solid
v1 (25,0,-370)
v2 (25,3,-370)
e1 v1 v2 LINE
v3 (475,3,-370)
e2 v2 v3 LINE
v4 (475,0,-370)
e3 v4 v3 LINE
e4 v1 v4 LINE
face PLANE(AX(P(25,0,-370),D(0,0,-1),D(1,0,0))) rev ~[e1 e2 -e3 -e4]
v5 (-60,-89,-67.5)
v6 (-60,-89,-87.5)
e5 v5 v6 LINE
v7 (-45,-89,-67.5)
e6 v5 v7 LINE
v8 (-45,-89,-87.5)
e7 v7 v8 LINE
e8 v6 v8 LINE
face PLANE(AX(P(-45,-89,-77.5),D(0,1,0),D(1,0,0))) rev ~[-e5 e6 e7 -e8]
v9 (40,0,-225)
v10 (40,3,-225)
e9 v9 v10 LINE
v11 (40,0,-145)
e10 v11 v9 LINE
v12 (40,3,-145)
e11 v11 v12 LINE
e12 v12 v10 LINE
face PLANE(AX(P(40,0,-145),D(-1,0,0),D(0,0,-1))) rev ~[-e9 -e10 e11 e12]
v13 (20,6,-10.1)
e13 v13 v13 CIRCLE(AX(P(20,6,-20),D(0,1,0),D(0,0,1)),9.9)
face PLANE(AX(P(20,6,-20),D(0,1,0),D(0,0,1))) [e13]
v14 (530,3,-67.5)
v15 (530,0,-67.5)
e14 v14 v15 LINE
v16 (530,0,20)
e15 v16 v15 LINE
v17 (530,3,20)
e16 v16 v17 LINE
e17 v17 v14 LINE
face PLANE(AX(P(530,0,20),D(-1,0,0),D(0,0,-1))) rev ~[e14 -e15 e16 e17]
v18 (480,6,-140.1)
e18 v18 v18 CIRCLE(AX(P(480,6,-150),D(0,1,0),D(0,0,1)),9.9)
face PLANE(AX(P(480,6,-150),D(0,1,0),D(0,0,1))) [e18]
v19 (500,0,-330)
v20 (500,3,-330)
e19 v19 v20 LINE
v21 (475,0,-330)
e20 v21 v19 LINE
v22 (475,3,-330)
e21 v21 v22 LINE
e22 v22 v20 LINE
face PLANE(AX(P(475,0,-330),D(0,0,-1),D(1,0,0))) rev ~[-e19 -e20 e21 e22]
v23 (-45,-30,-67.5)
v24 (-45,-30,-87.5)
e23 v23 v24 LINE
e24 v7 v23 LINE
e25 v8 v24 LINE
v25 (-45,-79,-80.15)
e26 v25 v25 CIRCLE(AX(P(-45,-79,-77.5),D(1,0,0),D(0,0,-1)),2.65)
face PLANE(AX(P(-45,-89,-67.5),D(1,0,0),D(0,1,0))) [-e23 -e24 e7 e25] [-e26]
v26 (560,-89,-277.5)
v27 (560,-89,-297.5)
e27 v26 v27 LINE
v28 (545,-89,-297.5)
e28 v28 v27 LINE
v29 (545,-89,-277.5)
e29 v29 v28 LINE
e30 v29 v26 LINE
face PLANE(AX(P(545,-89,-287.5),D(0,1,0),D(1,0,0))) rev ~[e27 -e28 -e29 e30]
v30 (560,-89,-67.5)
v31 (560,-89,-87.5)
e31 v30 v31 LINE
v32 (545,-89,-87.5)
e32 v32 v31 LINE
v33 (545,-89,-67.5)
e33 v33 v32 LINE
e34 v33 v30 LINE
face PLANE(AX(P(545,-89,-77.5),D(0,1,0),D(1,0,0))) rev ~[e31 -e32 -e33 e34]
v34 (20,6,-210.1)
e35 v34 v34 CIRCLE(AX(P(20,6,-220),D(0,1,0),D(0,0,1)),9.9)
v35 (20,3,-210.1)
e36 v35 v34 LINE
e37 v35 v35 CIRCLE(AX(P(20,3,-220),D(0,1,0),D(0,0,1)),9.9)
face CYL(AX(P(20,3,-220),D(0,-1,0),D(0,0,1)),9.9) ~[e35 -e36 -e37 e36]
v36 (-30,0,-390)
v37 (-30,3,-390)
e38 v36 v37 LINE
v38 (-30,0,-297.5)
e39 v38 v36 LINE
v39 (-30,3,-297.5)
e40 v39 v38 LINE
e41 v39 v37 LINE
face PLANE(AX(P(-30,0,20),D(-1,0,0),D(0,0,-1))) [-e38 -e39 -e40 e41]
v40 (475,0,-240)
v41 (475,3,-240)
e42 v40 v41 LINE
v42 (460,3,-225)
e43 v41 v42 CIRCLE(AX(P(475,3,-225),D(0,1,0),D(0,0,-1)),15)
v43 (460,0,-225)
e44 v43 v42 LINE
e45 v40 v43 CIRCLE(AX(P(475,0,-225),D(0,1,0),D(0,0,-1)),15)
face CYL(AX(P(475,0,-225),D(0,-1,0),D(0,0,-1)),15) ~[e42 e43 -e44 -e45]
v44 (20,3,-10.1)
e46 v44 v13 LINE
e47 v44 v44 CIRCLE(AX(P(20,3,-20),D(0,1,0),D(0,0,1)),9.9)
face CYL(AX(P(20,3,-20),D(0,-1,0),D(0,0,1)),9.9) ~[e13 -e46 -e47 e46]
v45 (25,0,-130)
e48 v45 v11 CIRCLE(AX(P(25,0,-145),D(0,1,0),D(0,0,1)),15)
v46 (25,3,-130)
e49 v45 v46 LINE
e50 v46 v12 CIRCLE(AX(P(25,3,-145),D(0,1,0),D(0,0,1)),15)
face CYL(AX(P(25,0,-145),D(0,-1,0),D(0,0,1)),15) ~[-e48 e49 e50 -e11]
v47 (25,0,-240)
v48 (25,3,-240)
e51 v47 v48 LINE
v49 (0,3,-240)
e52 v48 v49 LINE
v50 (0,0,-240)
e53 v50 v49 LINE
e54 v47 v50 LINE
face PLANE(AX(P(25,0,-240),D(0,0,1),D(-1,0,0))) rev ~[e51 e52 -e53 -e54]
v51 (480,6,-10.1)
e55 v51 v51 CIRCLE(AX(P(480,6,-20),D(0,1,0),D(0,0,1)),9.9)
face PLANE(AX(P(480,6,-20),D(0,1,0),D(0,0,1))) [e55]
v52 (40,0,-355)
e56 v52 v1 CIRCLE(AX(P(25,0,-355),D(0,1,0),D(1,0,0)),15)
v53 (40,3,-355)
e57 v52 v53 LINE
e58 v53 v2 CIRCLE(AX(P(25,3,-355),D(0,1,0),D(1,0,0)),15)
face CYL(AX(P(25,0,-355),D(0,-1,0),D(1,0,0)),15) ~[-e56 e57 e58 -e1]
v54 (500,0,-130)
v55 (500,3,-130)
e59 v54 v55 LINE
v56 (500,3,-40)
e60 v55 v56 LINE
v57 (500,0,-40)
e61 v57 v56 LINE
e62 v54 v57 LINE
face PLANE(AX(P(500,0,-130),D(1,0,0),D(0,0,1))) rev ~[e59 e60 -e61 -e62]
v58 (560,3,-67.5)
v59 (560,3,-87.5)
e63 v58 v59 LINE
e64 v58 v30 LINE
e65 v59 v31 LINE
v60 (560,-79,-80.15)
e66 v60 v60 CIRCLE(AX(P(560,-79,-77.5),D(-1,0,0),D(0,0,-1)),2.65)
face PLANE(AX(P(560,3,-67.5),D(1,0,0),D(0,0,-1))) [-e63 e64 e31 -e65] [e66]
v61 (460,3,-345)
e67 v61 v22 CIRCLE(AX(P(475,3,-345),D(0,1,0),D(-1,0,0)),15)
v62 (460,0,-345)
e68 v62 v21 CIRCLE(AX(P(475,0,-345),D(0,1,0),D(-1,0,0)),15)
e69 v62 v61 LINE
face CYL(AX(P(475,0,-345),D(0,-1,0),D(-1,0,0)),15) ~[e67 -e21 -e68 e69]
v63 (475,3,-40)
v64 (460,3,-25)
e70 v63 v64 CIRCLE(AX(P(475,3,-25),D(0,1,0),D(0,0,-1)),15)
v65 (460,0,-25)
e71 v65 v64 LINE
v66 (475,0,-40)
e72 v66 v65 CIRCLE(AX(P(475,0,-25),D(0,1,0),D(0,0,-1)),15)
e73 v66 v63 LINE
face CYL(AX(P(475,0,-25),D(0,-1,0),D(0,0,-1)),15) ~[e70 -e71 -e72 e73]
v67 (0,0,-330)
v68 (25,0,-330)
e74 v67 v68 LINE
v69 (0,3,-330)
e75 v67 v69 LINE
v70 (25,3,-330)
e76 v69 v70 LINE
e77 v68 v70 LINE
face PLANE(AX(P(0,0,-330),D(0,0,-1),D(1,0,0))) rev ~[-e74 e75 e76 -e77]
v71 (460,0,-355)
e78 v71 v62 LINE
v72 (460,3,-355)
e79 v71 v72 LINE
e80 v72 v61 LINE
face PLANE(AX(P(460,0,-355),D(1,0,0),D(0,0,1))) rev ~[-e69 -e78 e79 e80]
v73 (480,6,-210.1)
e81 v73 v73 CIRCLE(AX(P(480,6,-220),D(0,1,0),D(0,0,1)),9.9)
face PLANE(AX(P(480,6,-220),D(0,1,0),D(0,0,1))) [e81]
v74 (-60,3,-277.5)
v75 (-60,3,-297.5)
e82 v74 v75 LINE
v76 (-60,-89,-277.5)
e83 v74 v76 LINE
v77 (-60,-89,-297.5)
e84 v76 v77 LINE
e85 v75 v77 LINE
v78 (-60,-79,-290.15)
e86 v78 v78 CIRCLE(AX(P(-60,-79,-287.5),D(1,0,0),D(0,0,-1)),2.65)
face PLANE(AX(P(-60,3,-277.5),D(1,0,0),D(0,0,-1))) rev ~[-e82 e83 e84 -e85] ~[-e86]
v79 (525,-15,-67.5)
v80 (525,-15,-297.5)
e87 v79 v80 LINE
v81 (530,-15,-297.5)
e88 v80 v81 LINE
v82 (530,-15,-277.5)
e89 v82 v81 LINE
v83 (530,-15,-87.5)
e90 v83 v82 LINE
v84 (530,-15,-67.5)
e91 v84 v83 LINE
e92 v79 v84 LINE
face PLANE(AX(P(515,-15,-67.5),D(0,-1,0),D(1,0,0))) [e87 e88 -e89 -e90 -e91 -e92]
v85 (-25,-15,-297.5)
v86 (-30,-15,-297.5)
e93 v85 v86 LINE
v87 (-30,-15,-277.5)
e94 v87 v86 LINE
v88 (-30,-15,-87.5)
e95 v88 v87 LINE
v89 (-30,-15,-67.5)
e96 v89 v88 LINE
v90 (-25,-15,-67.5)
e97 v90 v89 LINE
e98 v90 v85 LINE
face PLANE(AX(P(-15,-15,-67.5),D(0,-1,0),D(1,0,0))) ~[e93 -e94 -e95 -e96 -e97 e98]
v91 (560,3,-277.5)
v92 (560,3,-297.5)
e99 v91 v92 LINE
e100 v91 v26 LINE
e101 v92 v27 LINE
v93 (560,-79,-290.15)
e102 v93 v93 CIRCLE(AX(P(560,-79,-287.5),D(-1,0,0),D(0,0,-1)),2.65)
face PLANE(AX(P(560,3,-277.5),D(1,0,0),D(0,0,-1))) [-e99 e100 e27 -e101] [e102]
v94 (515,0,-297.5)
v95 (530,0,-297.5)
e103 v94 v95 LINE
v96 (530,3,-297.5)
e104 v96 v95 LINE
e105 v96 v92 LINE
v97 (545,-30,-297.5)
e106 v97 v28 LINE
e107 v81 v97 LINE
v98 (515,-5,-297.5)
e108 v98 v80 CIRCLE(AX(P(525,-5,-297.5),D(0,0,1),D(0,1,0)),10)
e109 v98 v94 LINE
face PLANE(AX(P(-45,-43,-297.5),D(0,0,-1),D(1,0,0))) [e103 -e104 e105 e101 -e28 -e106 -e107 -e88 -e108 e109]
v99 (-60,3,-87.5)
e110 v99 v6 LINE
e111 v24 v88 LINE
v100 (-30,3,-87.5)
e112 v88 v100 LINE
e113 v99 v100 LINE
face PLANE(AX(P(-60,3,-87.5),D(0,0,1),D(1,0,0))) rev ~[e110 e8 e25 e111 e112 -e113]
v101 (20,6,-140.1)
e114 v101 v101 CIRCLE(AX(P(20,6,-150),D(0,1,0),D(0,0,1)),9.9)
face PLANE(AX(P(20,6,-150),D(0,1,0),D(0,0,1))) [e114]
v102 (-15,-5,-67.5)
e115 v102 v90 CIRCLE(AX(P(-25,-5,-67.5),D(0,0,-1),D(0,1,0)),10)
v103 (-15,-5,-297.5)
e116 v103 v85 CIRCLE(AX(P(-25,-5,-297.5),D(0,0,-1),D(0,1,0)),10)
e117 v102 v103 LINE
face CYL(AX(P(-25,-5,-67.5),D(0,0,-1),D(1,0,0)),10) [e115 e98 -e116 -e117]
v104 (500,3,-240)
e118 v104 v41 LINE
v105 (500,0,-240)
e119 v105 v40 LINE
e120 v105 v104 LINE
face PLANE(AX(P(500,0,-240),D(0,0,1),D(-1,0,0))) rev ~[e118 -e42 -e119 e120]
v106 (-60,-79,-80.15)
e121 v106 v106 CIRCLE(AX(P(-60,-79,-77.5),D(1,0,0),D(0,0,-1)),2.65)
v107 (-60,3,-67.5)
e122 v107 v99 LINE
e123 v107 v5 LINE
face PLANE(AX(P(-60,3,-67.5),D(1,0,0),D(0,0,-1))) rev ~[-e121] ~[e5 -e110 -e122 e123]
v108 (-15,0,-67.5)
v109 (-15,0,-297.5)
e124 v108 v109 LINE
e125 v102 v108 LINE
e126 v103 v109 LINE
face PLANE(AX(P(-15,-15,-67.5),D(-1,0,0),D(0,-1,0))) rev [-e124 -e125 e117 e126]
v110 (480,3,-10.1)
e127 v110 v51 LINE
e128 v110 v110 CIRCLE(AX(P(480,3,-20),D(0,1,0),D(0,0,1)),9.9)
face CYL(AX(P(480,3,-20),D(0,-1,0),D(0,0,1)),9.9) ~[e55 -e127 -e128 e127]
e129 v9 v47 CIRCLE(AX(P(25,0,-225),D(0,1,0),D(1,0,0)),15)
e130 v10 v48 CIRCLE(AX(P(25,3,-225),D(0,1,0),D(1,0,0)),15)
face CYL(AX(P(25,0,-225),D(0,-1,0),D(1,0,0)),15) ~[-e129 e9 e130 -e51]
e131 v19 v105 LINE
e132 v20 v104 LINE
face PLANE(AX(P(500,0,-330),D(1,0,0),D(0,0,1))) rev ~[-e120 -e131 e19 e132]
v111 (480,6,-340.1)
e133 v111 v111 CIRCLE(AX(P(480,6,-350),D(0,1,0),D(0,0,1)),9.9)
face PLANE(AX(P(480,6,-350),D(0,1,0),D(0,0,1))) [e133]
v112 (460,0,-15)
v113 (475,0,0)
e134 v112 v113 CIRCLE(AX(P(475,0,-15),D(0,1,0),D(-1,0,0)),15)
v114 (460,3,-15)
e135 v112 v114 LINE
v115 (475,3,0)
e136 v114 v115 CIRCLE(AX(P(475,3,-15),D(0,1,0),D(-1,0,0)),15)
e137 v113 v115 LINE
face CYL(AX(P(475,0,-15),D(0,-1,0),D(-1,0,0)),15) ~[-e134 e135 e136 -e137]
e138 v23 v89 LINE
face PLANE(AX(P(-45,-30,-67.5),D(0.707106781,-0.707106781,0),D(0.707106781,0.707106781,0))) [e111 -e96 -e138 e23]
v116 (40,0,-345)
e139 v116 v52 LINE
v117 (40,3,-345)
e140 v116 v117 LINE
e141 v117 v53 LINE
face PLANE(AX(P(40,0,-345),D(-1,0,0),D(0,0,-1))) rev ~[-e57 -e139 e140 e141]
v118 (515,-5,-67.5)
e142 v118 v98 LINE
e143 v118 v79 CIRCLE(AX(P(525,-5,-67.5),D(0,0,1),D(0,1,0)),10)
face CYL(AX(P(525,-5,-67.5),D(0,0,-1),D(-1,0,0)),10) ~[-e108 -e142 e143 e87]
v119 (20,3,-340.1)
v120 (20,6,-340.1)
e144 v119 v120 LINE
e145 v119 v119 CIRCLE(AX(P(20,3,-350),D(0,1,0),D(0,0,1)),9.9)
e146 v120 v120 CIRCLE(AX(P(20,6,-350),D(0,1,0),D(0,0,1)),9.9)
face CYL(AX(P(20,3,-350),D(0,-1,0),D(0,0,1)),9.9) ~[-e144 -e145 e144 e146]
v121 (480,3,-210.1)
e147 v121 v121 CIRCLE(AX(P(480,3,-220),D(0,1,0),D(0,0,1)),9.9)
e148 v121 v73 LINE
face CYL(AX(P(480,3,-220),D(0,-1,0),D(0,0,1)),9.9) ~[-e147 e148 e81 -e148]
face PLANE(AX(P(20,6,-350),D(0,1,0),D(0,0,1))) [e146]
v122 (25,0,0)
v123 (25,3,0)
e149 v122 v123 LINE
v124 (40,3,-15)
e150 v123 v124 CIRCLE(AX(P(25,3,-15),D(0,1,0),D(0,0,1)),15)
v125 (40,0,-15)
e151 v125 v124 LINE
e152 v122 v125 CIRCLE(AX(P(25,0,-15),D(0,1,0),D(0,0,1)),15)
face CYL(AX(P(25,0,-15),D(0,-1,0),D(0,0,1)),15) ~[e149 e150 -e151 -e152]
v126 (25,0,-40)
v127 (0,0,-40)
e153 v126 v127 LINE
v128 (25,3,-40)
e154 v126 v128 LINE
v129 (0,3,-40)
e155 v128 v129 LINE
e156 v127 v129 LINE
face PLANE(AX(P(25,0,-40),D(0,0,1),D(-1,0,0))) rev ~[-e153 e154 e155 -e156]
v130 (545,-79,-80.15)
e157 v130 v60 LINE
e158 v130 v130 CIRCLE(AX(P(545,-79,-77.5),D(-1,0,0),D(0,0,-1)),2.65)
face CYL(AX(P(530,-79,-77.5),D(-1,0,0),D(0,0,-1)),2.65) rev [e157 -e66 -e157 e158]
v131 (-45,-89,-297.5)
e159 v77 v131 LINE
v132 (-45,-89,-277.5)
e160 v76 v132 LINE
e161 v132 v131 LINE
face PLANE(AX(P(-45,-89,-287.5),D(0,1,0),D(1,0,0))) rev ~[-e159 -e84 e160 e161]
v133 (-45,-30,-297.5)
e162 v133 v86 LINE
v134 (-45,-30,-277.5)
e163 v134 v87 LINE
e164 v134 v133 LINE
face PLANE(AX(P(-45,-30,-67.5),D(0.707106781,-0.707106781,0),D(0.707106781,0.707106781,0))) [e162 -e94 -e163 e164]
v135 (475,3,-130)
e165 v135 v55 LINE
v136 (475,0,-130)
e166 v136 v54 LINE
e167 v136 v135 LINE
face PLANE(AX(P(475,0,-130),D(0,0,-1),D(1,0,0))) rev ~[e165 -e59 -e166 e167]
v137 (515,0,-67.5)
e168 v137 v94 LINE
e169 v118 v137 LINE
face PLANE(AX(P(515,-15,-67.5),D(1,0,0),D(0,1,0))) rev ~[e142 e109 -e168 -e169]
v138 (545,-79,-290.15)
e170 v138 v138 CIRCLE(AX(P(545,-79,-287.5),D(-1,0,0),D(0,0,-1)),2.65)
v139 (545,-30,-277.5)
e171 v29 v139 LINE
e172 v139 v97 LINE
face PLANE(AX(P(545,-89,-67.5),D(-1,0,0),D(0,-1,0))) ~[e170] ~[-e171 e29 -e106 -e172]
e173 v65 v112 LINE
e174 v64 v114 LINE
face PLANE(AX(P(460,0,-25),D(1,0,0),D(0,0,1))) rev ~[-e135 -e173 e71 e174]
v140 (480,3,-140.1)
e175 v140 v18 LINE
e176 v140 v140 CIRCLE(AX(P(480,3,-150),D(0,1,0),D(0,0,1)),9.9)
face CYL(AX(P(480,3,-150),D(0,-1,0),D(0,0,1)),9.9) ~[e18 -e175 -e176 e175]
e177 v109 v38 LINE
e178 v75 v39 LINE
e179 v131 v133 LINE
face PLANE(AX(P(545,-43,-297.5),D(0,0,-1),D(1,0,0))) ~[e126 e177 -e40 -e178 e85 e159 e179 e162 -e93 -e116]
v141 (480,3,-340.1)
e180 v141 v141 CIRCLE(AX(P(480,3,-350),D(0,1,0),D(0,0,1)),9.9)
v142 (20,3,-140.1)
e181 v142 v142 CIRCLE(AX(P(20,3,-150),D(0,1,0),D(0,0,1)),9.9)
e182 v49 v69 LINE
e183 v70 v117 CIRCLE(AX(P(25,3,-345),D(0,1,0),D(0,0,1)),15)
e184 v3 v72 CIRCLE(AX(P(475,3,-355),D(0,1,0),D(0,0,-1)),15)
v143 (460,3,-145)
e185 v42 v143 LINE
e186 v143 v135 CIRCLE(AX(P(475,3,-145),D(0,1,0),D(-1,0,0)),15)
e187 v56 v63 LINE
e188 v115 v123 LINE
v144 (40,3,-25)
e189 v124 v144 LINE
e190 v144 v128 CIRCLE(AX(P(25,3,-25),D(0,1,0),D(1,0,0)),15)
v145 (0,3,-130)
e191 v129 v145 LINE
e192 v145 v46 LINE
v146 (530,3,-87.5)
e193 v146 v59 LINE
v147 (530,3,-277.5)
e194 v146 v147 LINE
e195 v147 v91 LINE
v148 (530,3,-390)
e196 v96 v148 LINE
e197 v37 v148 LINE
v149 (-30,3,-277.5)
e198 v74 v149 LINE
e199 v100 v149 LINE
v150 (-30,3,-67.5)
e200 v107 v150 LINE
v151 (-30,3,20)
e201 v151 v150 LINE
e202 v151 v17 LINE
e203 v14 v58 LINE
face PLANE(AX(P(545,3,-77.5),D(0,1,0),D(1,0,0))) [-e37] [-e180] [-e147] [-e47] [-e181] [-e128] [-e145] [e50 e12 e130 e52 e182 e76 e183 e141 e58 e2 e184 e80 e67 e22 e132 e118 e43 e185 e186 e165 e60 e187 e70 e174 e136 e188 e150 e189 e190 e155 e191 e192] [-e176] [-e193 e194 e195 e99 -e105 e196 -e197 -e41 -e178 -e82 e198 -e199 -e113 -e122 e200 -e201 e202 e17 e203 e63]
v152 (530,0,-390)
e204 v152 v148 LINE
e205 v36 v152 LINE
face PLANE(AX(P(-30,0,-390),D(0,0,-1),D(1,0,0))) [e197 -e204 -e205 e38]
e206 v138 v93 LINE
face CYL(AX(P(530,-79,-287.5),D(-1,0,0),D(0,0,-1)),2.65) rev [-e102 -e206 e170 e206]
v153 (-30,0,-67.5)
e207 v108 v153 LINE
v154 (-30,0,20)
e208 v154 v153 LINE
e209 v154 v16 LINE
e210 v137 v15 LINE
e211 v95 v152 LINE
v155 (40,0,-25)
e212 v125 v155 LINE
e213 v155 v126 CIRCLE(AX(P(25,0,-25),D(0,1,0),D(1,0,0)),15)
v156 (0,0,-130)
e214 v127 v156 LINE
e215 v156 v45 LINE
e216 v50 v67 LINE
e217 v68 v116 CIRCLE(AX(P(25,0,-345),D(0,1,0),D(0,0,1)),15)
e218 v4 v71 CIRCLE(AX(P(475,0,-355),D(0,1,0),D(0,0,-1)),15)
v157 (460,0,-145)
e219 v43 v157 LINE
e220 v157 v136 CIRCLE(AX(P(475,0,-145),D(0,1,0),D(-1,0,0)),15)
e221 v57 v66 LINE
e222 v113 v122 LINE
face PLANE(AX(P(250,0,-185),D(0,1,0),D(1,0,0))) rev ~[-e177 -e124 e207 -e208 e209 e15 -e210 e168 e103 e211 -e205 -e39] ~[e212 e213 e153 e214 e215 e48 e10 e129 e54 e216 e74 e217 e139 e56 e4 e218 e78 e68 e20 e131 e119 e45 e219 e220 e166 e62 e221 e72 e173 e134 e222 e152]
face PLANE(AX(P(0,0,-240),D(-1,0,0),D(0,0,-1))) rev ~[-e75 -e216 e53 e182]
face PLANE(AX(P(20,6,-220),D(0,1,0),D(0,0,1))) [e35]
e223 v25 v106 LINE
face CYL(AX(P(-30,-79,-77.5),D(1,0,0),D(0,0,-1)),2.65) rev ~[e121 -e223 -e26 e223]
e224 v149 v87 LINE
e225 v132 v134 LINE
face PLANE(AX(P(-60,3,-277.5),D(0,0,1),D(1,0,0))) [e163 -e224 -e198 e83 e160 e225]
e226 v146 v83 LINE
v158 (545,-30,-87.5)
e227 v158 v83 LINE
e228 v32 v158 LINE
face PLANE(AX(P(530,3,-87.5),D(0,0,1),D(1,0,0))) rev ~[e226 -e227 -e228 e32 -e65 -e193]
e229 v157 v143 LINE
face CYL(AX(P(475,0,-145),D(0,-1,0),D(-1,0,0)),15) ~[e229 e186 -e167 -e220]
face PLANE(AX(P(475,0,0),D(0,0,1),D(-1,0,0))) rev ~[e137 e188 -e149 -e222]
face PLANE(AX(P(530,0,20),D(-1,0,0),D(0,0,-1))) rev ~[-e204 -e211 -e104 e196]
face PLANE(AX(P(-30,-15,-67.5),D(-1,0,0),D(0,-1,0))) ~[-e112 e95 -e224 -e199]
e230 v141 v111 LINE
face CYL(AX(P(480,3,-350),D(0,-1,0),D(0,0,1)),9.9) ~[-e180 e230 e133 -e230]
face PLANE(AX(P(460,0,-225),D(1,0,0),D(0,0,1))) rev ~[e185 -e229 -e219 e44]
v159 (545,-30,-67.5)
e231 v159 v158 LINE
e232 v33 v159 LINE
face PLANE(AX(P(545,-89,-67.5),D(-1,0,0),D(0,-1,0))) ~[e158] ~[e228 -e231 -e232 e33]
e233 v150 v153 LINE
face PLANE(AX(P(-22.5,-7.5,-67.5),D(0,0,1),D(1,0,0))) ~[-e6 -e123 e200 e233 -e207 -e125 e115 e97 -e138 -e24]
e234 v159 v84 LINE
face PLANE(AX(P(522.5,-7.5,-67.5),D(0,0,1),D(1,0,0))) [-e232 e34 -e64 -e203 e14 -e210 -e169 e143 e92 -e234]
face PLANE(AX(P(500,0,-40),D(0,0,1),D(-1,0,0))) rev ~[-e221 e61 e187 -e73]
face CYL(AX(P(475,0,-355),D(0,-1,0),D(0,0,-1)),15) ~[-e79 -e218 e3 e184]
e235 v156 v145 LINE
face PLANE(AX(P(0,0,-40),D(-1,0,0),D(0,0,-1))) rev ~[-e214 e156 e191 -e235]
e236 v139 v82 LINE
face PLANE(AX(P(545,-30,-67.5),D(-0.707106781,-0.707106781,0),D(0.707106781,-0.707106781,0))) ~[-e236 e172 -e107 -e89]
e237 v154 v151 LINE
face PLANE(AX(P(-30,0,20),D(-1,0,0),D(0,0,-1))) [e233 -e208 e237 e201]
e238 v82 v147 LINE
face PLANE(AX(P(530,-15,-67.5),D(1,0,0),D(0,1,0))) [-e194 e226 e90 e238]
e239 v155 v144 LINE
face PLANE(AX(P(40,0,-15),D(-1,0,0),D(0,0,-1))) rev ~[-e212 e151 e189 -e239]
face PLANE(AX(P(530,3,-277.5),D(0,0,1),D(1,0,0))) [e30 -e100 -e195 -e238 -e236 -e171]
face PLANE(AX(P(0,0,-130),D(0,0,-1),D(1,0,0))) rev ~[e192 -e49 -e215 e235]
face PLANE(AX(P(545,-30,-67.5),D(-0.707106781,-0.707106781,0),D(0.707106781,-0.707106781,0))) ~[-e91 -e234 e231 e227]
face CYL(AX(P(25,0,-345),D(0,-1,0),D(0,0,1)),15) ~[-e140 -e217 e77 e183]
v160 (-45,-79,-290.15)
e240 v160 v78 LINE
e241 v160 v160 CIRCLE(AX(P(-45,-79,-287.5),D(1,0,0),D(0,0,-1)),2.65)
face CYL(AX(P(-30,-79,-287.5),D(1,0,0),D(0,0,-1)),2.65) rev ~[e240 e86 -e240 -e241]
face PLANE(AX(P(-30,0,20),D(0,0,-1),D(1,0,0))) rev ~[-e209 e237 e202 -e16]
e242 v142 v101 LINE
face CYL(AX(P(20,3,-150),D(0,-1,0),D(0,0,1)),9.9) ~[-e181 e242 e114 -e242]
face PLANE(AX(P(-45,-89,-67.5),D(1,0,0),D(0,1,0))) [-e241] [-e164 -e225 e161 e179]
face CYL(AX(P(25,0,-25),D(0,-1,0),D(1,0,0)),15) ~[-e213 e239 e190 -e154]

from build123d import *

# Parameters (mm, degrees)
SKETCH1_W            = 560
SKETCH1_H            = 410
BOSS_EXTRUDE1_DEPTH  = 3
SKETCH2_R            = 9.9
BOSS_EXTRUDE2_DEPTH  = 3
SKETCH3_W            = 30
SKETCH3_H            = 20
BOSS_EXTRUDE3_DEPTH  = 92
LPATTERN1_COUNT      = 2
LPATTERN1_PITCH      = 210
BOSS_EXTRUDE4_REACH  = 654.324
SKETCH4_W            = 15
SKETCH4_H            = 15
FILLET1_R            = 10
FILLET1_OF_MIRROR1_R = 10
SKETCH5_R            = 2.65
CUT_EXTRUDE1_DEPTH   = 92
CUT_EXTRUDE2_DEPTH   = 653.32449747


with BuildPart() as part:
    # Sketch1 → Boss-Extrude1 (new body)
    with BuildSketch(Plane(origin=(0, 0, 0), x_dir=(1, 0, 0), z_dir=(0, 1, 0))):
        with Locations((250, 185)):
            Rectangle(SKETCH1_W, SKETCH1_H)
        with BuildLine():
            Line((500, 130), (500, 40))
            Line((500, 40), (475, 40))
            ThreePointArc((475, 40), (464.393398282, 35.606601718), (460, 25))
            Line((460, 25), (460, 15))
            ThreePointArc((460, 15), (464.393398282, 4.393398282), (475, 0))
            Line((475, 0), (25, 0))
            ThreePointArc((25, 0), (35.606601718, 4.393398282), (40, 15))
            Line((40, 15), (40, 25))
            ThreePointArc((40, 25), (35.606601718, 35.606601718), (25, 40))
            Line((25, 40), (0, 40))
            Line((0, 40), (0, 130))
            Line((0, 130), (25, 130))
            ThreePointArc((25, 130), (35.606601718, 134.393398282), (40, 145))
            Line((40, 145), (40, 225))
            ThreePointArc((40, 225), (35.606601718, 235.606601718), (25, 240))
            Line((25, 240), (0, 240))
            Line((0, 240), (0, 330))
            Line((0, 330), (25, 330))
            ThreePointArc((25, 330), (35.606601718, 334.393398282), (40, 345))
            Line((40, 345), (40, 355))
            ThreePointArc((40, 355), (35.606601718, 365.606601718), (25, 370))
            Line((25, 370), (475, 370))
            ThreePointArc((475, 370), (464.393398282, 365.606601718), (460, 355))
            Line((460, 355), (460, 345))
            ThreePointArc((460, 345), (464.393398282, 334.393398282), (475, 330))
            Line((475, 330), (500, 330))
            Line((500, 330), (500, 240))
            Line((500, 240), (475, 240))
            ThreePointArc((475, 240), (464.393398282, 235.606601718), (460, 225))
            Line((460, 225), (460, 145))
            ThreePointArc((460, 145), (464.393398282, 134.393398282), (475, 130))
            Line((475, 130), (500, 130))
        make_face(mode=Mode.SUBTRACT)
    extrude(amount=BOSS_EXTRUDE1_DEPTH)

    # Sketch2 → Boss-Extrude2 (add)
    with BuildSketch(Plane(origin=(0, 3, 0), x_dir=(1, 0, 0), z_dir=(0, 1, 0))):
        with Locations(Location((20, 150, 0), (0, 0, 270))):
            Circle(SKETCH2_R)
        with Locations(Location((20, 220, 0), (0, 0, 270))):
            Circle(SKETCH2_R)
        with Locations(Location((20, 350, 0), (0, 0, 270))):
            Circle(SKETCH2_R)
        with Locations(Location((20, 20, 0), (0, 0, 270))):
            Circle(SKETCH2_R)
        with Locations(Location((480, 150, 0), (0, 0, 270))):
            Circle(SKETCH2_R)
        with Locations(Location((480, 220, 0), (0, 0, 270))):
            Circle(SKETCH2_R)
        with Locations(Location((480, 350, 0), (0, 0, 270))):
            Circle(SKETCH2_R)
        with Locations(Location((480, 20, 0), (0, 0, 270))):
            Circle(SKETCH2_R)
    extrude(amount=BOSS_EXTRUDE2_DEPTH)

    # Sketch3 → Boss-Extrude3 (add)
    with BuildSketch(Plane(origin=(0, 3, 0), x_dir=(1, 0, 0), z_dir=(0, 1, 0))):
        with Locations((545, 287.5)):
            Rectangle(SKETCH3_W, SKETCH3_H)
        with Locations((-45, 287.5)):
            Rectangle(SKETCH3_W, SKETCH3_H)
    boss_extrude3 = extrude(amount=-BOSS_EXTRUDE3_DEPTH)

    # LPattern1: Boss-Extrude3 ×2
    with Locations(*[(0, 0, i * LPATTERN1_PITCH) for i in range(1, LPATTERN1_COUNT)]):
        add(boss_extrude3)

    # Boss-Extrude4: up to this face of the body (flat: up to its plane)
    boss_extrude4_end = Plane(part.part.faces().sort_by_distance((-45, -43, -297.5))[0])
    # Sketch4 → Boss-Extrude4 (add, up to the picked face)
    with BuildSketch(Plane.XY.offset(-67.5), mode=Mode.PRIVATE) as boss_extrude4_sk1:
        with Locations((522.5, -7.5)):
            Rectangle(SKETCH4_W, SKETCH4_H)
    boss_extrude4_tool1 = split(extrude(boss_extrude4_sk1.sketch, amount=-BOSS_EXTRUDE4_REACH, mode=Mode.PRIVATE), bisect_by=boss_extrude4_end, keep=Keep.BOTH, mode=Mode.PRIVATE)
    boss_extrude4 = boss_extrude4_tool1.solids().sort_by(Axis((522.5, -7.5, -67.5), (0, 0, -1)))[0]
    add(boss_extrude4)

    # Fillet1
    fillet1_edges = [part.edges().sort_by_distance(p)[0] for p in [
        (515, -15, -182.5),
    ]]
    fillet(fillet1_edges, radius=FILLET1_R)

    # Mirror1: Boss-Extrude4 across plane
    add(boss_extrude4.mirror(Plane(origin=(250, 0, 0), x_dir=(0, 0, 1), z_dir=(1, 0, 0))))

    # Fillet1 of Mirror1
    fillet1_of_mirror1_edges = [part.edges().sort_by_distance(p)[0] for p in [
        (-15, -15, -182.5),
    ]]
    fillet(fillet1_of_mirror1_edges, radius=FILLET1_OF_MIRROR1_R)

    # Sketch5 → Cut-Extrude1 (cut)
    with BuildSketch(Plane(origin=(-30, 0, 0), x_dir=(0, 0, -1), z_dir=(1, 0, 0))):
        with Locations((77.5, -79)):
            Circle(SKETCH5_R)
        with Locations((287.5, -79)):
            Circle(SKETCH5_R)
    cut_extrude1 = extrude(amount=-CUT_EXTRUDE1_DEPTH, mode=Mode.SUBTRACT)

    # Mirror2: Cut-Extrude1 across plane
    add(cut_extrude1.mirror(Plane(origin=(250, 0, 0), x_dir=(0, 0, 1), z_dir=(1, 0, 0))), mode=Mode.SUBTRACT)

    # Sketch6 → Cut-Extrude2 (cut, through all)
    with BuildSketch(Plane.XY.offset(-67.5)):
        Polygon((-45, -89), (-45, -30), (-30, -15), (-30, -89), align=None)
    cut_extrude2 = extrude(amount=-CUT_EXTRUDE2_DEPTH, mode=Mode.SUBTRACT)

    # Mirror3: Cut-Extrude2 across plane
    add(cut_extrude2.mirror(Plane(origin=(250, 0, 0), x_dir=(0, 0, 1), z_dir=(1, 0, 0))), mode=Mode.SUBTRACT)


solid = part.part
